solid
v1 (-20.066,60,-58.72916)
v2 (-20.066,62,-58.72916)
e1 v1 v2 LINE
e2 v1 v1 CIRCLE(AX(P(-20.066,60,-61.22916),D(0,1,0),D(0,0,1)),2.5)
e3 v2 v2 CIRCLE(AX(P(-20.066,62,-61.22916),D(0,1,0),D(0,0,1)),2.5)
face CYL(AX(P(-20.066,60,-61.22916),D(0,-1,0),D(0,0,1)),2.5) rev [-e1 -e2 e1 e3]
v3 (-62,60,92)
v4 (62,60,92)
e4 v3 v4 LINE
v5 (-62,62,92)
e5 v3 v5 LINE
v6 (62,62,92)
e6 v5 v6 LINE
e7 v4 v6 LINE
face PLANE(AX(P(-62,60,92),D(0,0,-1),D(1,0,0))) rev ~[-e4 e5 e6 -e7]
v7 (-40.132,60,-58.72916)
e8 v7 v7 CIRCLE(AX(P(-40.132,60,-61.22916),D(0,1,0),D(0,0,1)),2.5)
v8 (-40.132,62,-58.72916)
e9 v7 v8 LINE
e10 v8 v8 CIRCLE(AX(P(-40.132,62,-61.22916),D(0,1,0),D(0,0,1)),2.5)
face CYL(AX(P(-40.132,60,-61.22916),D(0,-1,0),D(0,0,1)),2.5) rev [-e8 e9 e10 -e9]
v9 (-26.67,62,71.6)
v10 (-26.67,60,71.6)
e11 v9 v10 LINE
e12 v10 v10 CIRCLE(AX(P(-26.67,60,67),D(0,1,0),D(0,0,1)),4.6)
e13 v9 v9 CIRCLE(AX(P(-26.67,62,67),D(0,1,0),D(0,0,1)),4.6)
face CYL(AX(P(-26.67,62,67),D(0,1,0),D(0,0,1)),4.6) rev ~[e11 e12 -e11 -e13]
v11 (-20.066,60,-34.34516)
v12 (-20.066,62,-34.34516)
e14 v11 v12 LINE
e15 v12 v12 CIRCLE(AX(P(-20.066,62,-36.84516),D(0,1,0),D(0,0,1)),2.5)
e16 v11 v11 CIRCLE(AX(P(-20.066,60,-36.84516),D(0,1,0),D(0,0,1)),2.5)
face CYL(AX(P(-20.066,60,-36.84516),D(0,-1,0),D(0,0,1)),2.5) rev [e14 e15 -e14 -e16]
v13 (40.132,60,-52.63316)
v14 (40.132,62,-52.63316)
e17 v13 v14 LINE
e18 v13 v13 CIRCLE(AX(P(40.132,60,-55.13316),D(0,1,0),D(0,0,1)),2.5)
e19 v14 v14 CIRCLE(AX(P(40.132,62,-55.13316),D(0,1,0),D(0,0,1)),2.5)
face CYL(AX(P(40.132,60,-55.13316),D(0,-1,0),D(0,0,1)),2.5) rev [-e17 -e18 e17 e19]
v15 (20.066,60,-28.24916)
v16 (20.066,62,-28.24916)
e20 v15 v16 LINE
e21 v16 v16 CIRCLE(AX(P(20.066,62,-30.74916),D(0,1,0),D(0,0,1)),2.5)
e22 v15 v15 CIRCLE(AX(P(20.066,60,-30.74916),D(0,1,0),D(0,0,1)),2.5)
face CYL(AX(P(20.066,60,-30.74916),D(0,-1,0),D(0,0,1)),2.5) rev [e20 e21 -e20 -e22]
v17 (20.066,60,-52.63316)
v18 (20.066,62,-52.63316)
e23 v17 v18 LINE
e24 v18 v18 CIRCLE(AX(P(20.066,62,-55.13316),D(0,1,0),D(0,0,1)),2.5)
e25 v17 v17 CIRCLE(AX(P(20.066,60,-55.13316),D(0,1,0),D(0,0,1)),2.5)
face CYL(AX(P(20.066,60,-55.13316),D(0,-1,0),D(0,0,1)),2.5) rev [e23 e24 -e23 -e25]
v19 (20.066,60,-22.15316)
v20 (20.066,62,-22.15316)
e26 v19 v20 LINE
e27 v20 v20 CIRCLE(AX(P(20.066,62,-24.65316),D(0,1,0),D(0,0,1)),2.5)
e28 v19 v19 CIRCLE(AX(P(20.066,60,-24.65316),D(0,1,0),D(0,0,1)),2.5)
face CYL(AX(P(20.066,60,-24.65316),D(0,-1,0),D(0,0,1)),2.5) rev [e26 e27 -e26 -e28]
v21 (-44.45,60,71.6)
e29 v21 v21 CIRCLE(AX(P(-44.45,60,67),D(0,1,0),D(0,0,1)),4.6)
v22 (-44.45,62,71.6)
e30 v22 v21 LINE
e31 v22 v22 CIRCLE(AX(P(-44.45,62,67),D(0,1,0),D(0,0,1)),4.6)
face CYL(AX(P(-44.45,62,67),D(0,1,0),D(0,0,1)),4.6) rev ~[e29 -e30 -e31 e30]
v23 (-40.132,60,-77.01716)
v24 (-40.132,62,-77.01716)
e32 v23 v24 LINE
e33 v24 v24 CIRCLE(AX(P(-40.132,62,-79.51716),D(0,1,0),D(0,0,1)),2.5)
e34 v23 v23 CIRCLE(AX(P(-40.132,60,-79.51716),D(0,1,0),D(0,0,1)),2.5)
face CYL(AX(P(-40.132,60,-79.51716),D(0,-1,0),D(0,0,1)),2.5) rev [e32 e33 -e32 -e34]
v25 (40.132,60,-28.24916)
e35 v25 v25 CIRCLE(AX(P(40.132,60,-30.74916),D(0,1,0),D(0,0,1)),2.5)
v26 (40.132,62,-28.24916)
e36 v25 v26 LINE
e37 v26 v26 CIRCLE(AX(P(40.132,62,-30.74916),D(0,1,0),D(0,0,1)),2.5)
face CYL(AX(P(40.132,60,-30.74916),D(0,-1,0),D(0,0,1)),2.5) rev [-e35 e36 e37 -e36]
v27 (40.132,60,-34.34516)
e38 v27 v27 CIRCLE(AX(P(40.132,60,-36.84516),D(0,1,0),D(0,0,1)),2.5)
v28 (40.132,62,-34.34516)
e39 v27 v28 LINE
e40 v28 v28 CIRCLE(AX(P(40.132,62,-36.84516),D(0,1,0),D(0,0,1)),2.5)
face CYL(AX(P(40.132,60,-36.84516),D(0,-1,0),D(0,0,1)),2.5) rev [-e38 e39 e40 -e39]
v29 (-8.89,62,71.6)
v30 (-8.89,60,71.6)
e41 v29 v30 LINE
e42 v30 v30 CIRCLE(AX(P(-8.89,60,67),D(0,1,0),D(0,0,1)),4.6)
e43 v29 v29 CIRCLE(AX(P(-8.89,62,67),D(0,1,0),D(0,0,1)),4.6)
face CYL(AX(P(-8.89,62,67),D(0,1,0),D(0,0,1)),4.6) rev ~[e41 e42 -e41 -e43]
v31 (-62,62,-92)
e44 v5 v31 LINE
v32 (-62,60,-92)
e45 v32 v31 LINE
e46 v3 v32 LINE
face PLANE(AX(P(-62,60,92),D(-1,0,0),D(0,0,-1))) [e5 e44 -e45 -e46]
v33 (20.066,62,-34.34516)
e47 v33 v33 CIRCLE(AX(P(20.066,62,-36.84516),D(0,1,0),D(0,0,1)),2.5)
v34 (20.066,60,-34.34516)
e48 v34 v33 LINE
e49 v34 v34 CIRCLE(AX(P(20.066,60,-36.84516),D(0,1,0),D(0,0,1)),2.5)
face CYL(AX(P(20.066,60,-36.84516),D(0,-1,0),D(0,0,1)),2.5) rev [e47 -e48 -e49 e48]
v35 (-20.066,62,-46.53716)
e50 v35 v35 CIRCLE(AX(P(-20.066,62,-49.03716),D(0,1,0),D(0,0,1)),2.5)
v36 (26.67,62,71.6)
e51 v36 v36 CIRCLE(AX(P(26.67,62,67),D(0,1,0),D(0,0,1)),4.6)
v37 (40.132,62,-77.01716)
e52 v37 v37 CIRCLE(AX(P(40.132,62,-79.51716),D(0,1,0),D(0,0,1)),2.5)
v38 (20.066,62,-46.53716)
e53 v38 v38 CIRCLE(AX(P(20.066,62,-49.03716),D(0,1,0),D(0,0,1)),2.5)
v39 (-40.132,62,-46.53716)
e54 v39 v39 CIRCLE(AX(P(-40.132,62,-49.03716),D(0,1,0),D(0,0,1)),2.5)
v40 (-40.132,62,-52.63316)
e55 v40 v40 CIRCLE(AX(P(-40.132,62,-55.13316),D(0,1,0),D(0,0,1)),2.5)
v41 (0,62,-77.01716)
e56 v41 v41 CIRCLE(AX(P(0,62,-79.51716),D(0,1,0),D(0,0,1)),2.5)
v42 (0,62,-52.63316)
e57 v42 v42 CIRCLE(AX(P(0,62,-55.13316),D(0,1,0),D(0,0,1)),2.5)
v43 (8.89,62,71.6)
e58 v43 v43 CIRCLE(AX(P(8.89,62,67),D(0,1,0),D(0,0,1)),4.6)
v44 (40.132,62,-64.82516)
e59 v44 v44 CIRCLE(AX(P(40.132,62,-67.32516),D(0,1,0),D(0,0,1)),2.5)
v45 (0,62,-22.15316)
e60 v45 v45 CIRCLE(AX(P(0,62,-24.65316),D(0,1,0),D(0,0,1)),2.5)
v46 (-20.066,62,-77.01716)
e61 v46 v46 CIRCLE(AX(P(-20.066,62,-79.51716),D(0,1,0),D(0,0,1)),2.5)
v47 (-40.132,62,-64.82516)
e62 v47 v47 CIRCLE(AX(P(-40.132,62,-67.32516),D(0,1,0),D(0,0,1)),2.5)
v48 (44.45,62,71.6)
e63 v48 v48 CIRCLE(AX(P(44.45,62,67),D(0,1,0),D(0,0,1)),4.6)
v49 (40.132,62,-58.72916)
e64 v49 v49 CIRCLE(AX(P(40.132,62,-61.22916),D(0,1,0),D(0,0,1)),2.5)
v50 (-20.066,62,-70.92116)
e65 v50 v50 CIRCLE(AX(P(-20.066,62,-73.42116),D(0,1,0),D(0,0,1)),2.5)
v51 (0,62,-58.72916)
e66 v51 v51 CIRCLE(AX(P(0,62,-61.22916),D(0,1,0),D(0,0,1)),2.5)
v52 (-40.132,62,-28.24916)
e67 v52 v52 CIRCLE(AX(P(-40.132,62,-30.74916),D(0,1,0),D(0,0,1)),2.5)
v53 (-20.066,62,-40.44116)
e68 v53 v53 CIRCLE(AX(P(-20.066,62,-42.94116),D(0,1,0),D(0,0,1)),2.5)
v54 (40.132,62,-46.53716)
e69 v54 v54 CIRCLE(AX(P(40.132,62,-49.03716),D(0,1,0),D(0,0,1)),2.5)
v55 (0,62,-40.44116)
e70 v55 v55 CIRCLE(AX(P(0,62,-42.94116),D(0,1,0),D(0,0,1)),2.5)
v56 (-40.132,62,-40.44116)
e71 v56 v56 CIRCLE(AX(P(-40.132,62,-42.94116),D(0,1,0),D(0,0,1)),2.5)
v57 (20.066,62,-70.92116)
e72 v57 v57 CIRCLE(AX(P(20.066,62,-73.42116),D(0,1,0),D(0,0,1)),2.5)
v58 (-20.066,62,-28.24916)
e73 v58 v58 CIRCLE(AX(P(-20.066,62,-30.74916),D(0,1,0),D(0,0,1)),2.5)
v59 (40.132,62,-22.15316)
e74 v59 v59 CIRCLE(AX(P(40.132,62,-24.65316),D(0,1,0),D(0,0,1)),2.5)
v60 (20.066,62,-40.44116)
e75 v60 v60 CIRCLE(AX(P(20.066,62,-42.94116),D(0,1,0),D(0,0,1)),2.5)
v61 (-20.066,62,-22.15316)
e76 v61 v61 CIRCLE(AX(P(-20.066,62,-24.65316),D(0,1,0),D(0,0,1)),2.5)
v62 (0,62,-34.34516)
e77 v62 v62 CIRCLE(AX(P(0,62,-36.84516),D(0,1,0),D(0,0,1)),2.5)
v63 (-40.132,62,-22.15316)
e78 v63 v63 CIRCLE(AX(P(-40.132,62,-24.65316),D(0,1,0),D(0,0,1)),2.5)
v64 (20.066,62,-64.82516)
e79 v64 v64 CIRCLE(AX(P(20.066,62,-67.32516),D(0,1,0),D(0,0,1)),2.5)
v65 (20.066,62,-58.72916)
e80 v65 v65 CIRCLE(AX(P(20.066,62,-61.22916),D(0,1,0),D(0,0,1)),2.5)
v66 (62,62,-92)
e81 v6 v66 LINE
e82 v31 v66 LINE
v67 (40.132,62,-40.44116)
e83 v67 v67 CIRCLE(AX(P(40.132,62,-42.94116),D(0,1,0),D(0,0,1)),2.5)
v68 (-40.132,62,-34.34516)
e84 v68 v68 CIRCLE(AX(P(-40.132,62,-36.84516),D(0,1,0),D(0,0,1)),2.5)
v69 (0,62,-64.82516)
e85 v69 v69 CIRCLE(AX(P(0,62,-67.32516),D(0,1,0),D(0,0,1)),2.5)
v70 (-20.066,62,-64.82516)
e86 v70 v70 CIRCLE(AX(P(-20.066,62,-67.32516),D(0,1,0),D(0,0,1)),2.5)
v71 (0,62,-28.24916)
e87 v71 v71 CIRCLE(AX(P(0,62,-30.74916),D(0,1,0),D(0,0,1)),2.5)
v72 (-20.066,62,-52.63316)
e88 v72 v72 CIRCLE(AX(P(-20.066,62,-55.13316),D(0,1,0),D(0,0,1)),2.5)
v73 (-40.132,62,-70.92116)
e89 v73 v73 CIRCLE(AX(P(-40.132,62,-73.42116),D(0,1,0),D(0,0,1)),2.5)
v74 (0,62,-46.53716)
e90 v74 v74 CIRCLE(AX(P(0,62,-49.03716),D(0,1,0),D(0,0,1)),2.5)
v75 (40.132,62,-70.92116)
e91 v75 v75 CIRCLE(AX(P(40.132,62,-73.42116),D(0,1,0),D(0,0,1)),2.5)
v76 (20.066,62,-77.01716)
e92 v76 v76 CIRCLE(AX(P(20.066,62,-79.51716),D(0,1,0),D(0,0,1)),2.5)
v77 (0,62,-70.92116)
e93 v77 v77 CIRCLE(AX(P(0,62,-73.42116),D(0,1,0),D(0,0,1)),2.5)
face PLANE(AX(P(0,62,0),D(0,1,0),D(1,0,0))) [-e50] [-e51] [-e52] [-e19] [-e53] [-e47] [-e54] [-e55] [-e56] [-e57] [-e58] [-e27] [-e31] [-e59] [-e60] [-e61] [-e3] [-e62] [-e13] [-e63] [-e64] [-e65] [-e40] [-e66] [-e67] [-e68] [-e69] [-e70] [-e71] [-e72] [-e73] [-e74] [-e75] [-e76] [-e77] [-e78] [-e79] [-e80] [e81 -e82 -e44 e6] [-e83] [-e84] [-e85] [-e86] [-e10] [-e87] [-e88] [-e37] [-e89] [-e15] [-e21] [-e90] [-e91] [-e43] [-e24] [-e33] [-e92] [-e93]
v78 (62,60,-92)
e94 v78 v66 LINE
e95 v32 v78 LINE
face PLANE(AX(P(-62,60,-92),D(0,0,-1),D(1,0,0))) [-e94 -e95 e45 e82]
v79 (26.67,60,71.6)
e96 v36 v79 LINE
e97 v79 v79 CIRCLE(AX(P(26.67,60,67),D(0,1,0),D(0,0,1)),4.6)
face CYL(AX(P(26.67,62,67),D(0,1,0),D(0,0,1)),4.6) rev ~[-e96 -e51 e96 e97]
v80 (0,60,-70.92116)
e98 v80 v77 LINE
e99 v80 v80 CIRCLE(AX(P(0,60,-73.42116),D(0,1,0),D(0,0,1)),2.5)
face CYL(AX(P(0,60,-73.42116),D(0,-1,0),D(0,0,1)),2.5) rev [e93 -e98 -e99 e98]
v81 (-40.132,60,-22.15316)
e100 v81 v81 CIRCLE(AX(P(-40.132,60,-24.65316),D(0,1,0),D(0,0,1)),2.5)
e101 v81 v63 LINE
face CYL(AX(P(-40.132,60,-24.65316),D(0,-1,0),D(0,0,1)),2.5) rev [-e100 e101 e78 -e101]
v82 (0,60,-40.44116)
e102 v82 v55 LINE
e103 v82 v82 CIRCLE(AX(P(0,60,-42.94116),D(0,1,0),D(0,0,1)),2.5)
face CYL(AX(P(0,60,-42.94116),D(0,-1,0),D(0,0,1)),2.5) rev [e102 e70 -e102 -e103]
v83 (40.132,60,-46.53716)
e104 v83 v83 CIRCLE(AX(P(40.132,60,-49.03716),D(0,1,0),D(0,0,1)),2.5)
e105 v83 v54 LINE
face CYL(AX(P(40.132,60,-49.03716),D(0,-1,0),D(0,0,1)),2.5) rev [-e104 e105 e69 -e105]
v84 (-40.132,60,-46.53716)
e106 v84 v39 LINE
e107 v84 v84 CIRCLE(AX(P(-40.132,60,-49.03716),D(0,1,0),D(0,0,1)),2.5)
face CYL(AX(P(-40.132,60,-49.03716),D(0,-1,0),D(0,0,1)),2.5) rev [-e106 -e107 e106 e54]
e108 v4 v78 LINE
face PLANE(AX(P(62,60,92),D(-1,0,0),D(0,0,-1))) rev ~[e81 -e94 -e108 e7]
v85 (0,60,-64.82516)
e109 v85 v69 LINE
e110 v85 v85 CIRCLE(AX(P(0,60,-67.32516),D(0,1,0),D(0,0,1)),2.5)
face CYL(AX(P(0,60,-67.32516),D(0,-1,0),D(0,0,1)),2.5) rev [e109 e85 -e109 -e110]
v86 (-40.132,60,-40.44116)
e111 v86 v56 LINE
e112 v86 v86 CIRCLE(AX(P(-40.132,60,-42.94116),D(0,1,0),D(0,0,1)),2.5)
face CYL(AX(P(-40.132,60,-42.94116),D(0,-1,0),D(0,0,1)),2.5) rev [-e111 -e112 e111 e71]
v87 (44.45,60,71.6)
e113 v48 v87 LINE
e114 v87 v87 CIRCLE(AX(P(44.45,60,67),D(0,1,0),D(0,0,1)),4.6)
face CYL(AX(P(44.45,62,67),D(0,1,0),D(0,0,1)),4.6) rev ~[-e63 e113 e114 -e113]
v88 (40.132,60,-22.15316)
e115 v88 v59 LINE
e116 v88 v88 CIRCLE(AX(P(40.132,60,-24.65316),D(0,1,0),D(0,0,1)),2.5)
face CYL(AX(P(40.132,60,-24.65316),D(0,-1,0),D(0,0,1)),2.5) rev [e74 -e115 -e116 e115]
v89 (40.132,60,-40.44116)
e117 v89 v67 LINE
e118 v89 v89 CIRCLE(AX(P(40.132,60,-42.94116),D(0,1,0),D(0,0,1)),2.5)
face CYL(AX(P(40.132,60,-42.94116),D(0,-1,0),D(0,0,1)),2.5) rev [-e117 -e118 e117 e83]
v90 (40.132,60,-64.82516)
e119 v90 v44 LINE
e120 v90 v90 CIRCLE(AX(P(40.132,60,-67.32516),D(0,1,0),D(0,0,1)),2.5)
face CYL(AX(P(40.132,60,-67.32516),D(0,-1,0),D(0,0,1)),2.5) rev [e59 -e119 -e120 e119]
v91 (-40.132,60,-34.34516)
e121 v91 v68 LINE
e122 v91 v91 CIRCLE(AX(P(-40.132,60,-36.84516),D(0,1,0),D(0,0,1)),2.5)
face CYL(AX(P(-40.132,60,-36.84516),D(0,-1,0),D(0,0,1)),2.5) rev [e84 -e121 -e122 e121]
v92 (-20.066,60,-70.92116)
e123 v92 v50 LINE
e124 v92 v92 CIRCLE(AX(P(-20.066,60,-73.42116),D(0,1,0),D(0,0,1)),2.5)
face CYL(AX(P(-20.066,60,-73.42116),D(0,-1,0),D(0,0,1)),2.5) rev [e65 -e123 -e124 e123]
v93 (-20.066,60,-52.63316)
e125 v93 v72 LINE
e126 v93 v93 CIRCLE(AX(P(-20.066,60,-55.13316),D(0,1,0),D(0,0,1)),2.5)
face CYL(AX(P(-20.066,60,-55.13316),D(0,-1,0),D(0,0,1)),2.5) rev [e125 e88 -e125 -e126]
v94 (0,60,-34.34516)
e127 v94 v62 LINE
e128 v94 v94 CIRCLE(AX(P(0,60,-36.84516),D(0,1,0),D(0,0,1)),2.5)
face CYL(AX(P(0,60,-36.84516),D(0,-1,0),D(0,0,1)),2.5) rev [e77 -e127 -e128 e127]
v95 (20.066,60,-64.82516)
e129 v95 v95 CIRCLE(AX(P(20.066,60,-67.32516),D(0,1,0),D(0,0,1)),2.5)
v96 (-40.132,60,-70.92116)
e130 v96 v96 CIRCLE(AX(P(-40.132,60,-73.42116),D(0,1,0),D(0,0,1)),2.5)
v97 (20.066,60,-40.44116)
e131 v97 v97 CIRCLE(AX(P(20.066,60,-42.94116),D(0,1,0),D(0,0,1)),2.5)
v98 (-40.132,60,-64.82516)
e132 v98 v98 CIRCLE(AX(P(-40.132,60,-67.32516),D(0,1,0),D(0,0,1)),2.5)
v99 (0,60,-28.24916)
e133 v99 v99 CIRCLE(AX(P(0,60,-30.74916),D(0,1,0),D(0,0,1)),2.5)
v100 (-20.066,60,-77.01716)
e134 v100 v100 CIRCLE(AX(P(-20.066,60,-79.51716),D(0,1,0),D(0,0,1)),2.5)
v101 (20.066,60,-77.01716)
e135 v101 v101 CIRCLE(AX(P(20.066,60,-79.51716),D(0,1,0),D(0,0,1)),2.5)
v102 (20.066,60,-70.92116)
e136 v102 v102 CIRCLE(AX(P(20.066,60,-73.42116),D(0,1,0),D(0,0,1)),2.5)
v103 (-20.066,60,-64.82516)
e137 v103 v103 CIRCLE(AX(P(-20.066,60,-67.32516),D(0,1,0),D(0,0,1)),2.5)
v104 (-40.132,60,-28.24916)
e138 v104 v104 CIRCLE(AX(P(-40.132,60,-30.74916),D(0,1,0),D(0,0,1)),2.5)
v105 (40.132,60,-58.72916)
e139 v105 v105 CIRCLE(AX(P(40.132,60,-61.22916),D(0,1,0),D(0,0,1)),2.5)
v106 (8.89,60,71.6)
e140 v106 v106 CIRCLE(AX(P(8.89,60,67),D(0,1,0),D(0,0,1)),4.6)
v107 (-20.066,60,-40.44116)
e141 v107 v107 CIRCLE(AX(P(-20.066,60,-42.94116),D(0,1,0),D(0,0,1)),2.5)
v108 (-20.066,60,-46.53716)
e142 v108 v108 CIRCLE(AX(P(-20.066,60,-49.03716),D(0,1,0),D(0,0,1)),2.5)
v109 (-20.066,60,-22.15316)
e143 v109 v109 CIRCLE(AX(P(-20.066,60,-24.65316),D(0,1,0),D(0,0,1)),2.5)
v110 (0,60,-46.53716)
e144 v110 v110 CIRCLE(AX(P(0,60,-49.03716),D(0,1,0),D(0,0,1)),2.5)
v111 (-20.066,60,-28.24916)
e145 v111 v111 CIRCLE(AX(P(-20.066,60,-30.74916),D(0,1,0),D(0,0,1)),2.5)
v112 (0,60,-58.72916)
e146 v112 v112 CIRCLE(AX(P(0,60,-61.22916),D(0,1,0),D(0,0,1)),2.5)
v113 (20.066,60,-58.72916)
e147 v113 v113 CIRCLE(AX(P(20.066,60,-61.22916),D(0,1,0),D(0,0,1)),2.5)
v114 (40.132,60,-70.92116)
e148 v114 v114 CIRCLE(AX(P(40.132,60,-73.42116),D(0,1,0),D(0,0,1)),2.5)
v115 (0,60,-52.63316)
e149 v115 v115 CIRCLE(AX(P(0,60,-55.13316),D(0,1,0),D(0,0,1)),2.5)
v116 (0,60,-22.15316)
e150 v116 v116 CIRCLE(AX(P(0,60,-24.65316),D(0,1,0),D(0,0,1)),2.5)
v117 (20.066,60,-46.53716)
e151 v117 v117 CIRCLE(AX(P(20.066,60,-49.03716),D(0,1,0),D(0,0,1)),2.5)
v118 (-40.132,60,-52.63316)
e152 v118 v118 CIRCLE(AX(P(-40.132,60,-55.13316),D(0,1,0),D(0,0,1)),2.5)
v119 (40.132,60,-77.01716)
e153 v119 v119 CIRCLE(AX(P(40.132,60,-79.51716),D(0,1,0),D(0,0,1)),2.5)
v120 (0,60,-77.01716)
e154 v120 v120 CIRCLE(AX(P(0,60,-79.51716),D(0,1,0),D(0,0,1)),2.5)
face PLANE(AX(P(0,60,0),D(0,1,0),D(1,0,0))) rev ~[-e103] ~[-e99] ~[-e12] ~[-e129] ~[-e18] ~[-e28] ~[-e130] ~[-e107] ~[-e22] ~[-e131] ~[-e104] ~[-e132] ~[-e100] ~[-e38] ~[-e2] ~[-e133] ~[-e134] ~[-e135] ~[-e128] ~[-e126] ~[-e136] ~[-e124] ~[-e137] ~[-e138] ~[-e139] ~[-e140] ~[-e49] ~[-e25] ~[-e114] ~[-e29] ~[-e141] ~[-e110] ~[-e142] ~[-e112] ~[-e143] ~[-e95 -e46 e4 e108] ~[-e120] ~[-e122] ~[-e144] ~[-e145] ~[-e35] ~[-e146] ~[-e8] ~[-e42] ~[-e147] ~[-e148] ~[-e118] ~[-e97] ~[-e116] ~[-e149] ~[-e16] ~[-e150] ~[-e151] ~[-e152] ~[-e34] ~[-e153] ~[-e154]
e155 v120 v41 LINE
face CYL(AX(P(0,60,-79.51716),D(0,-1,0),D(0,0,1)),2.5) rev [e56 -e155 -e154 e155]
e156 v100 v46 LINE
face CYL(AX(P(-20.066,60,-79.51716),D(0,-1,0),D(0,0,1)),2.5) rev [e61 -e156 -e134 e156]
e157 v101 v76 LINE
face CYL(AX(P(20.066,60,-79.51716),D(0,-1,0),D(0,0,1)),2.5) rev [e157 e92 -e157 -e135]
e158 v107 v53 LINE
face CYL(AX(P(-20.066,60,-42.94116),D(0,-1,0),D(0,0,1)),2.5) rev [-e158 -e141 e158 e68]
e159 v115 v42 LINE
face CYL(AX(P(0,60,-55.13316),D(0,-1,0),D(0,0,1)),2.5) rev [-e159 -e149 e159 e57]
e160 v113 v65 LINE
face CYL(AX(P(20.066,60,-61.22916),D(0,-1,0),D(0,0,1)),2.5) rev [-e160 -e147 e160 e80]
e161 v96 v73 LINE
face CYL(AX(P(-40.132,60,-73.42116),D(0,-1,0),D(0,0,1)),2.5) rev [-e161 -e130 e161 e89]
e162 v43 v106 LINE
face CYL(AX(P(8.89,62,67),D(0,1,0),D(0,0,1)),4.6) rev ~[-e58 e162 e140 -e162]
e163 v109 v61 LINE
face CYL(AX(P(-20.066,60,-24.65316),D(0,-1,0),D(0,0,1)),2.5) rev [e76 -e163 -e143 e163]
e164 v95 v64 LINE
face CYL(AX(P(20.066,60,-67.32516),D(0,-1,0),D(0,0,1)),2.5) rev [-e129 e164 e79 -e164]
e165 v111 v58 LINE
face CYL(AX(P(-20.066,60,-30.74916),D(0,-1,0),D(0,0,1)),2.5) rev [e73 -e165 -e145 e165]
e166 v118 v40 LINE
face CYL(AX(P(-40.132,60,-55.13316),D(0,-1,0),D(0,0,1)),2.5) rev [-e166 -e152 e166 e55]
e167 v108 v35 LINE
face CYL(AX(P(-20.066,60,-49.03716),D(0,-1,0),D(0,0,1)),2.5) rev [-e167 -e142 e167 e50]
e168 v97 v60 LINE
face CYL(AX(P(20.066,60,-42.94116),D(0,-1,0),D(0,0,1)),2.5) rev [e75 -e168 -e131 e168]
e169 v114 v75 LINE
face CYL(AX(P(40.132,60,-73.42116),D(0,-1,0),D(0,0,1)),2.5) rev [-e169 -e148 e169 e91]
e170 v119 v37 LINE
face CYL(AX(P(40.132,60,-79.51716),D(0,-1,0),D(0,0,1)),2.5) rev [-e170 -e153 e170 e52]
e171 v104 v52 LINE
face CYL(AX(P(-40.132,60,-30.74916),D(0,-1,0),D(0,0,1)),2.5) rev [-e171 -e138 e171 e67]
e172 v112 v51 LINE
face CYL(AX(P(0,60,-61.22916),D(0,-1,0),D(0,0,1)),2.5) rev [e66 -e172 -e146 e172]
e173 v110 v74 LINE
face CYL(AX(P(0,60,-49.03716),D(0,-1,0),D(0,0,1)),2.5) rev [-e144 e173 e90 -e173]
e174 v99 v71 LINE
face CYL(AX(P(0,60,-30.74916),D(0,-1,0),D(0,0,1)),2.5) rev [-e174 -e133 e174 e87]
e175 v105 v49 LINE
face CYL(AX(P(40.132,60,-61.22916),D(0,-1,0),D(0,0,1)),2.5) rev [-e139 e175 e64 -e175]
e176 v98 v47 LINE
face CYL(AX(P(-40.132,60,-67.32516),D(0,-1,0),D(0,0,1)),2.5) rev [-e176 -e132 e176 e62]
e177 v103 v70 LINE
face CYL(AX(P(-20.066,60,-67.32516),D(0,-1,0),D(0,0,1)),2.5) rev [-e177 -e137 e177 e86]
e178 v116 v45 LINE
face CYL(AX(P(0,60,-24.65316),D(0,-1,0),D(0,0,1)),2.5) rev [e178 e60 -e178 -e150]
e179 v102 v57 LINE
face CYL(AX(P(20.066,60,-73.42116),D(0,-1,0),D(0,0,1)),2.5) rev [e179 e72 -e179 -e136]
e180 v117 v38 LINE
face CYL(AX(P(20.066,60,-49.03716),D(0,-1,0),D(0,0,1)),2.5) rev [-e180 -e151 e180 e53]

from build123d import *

# Parameters (mm, degrees)
SKETCH1_W           = 124
SKETCH1_H           = 184
SKETCH1_R           = 2.5
BOSS_EXTRUDE1_DEPTH = 2
CUT_EXTRUDE2_REACH  = 112.959
SKETCH5_R           = 4.6


with BuildPart() as part:
    # Sketch1 → Boss-Extrude1 (new body)
    with BuildSketch(Plane(origin=(0, 60, 0), x_dir=(1, 0, 0), z_dir=(0, 1, 0))):
        Rectangle(SKETCH1_W, SKETCH1_H)
        with Locations(Location((-40.132, 79.51715957, 0), (0, 0, 270))):
            Circle(SKETCH1_R, mode=Mode.SUBTRACT)
        with Locations(Location((-20.066, 79.51715957, 0), (0, 0, 270))):
            Circle(SKETCH1_R, mode=Mode.SUBTRACT)
        with Locations(Location((0, 79.51715957, 0), (0, 0, 270))):
            Circle(SKETCH1_R, mode=Mode.SUBTRACT)
        with Locations(Location((20.066, 79.51715957, 0), (0, 0, 270))):
            Circle(SKETCH1_R, mode=Mode.SUBTRACT)
        with Locations(Location((40.132, 79.51715957, 0), (0, 0, 270))):
            Circle(SKETCH1_R, mode=Mode.SUBTRACT)
        with Locations(Location((-20.066, 73.42115957, 0), (0, 0, 270))):
            Circle(SKETCH1_R, mode=Mode.SUBTRACT)
        with Locations(Location((0, 73.42115957, 0), (0, 0, 270))):
            Circle(SKETCH1_R, mode=Mode.SUBTRACT)
        with Locations(Location((20.066, 73.42115957, 0), (0, 0, 270))):
            Circle(SKETCH1_R, mode=Mode.SUBTRACT)
        with Locations(Location((40.132, 73.42115957, 0), (0, 0, 270))):
            Circle(SKETCH1_R, mode=Mode.SUBTRACT)
        with Locations(Location((-20.066, 67.32515957, 0), (0, 0, 270))):
            Circle(SKETCH1_R, mode=Mode.SUBTRACT)
        with Locations(Location((0, 67.32515957, 0), (0, 0, 270))):
            Circle(SKETCH1_R, mode=Mode.SUBTRACT)
        with Locations(Location((20.066, 67.32515957, 0), (0, 0, 270))):
            Circle(SKETCH1_R, mode=Mode.SUBTRACT)
        with Locations(Location((40.132, 67.32515957, 0), (0, 0, 270))):
            Circle(SKETCH1_R, mode=Mode.SUBTRACT)
        with Locations(Location((-20.066, 61.22915957, 0), (0, 0, 270))):
            Circle(SKETCH1_R, mode=Mode.SUBTRACT)
        with Locations(Location((0, 61.22915957, 0), (0, 0, 270))):
            Circle(SKETCH1_R, mode=Mode.SUBTRACT)
        with Locations(Location((20.066, 61.22915957, 0), (0, 0, 270))):
            Circle(SKETCH1_R, mode=Mode.SUBTRACT)
        with Locations(Location((40.132, 61.22915957, 0), (0, 0, 270))):
            Circle(SKETCH1_R, mode=Mode.SUBTRACT)
        with Locations(Location((-20.066, 55.13315957, 0), (0, 0, 270))):
            Circle(SKETCH1_R, mode=Mode.SUBTRACT)
        with Locations(Location((0, 55.13315957, 0), (0, 0, 270))):
            Circle(SKETCH1_R, mode=Mode.SUBTRACT)
        with Locations(Location((20.066, 55.13315957, 0), (0, 0, 270))):
            Circle(SKETCH1_R, mode=Mode.SUBTRACT)
        with Locations(Location((40.132, 55.13315957, 0), (0, 0, 270))):
            Circle(SKETCH1_R, mode=Mode.SUBTRACT)
        with Locations(Location((-20.066, 49.03715957, 0), (0, 0, 270))):
            Circle(SKETCH1_R, mode=Mode.SUBTRACT)
        with Locations(Location((0, 49.03715957, 0), (0, 0, 270))):
            Circle(SKETCH1_R, mode=Mode.SUBTRACT)
        with Locations(Location((20.066, 49.03715957, 0), (0, 0, 270))):
            Circle(SKETCH1_R, mode=Mode.SUBTRACT)
        with Locations(Location((40.132, 49.03715957, 0), (0, 0, 270))):
            Circle(SKETCH1_R, mode=Mode.SUBTRACT)
        with Locations(Location((-20.066, 42.94115957, 0), (0, 0, 270))):
            Circle(SKETCH1_R, mode=Mode.SUBTRACT)
        with Locations(Location((0, 42.94115957, 0), (0, 0, 270))):
            Circle(SKETCH1_R, mode=Mode.SUBTRACT)
        with Locations(Location((20.066, 42.94115957, 0), (0, 0, 270))):
            Circle(SKETCH1_R, mode=Mode.SUBTRACT)
        with Locations(Location((40.132, 42.94115957, 0), (0, 0, 270))):
            Circle(SKETCH1_R, mode=Mode.SUBTRACT)
        with Locations(Location((-20.066, 36.84515957, 0), (0, 0, 270))):
            Circle(SKETCH1_R, mode=Mode.SUBTRACT)
        with Locations(Location((0, 36.84515957, 0), (0, 0, 270))):
            Circle(SKETCH1_R, mode=Mode.SUBTRACT)
        with Locations(Location((20.066, 36.84515957, 0), (0, 0, 270))):
            Circle(SKETCH1_R, mode=Mode.SUBTRACT)
        with Locations(Location((40.132, 36.84515957, 0), (0, 0, 270))):
            Circle(SKETCH1_R, mode=Mode.SUBTRACT)
        with Locations(Location((-20.066, 30.74915957, 0), (0, 0, 270))):
            Circle(SKETCH1_R, mode=Mode.SUBTRACT)
        with Locations(Location((0, 30.74915957, 0), (0, 0, 270))):
            Circle(SKETCH1_R, mode=Mode.SUBTRACT)
        with Locations(Location((20.066, 30.74915957, 0), (0, 0, 270))):
            Circle(SKETCH1_R, mode=Mode.SUBTRACT)
        with Locations(Location((40.132, 30.74915957, 0), (0, 0, 270))):
            Circle(SKETCH1_R, mode=Mode.SUBTRACT)
        with Locations(Location((-20.066, 24.65315957, 0), (0, 0, 270))):
            Circle(SKETCH1_R, mode=Mode.SUBTRACT)
        with Locations(Location((0, 24.65315957, 0), (0, 0, 270))):
            Circle(SKETCH1_R, mode=Mode.SUBTRACT)
        with Locations(Location((20.066, 24.65315957, 0), (0, 0, 270))):
            Circle(SKETCH1_R, mode=Mode.SUBTRACT)
        with Locations(Location((40.132, 24.65315957, 0), (0, 0, 270))):
            Circle(SKETCH1_R, mode=Mode.SUBTRACT)
        with Locations(Location((-40.132, 73.42115957, 0), (0, 0, 270))):
            Circle(SKETCH1_R, mode=Mode.SUBTRACT)
        with Locations(Location((-40.132, 67.32515957, 0), (0, 0, 270))):
            Circle(SKETCH1_R, mode=Mode.SUBTRACT)
        with Locations(Location((-40.132, 61.22915957, 0), (0, 0, 270))):
            Circle(SKETCH1_R, mode=Mode.SUBTRACT)
        with Locations(Location((-40.132, 55.13315957, 0), (0, 0, 270))):
            Circle(SKETCH1_R, mode=Mode.SUBTRACT)
        with Locations(Location((-40.132, 49.03715957, 0), (0, 0, 270))):
            Circle(SKETCH1_R, mode=Mode.SUBTRACT)
        with Locations(Location((-40.132, 42.94115957, 0), (0, 0, 270))):
            Circle(SKETCH1_R, mode=Mode.SUBTRACT)
        with Locations(Location((-40.132, 36.84515957, 0), (0, 0, 270))):
            Circle(SKETCH1_R, mode=Mode.SUBTRACT)
        with Locations(Location((-40.132, 30.74915957, 0), (0, 0, 270))):
            Circle(SKETCH1_R, mode=Mode.SUBTRACT)
        with Locations(Location((-40.132, 24.65315957, 0), (0, 0, 270))):
            Circle(SKETCH1_R, mode=Mode.SUBTRACT)
    extrude(amount=BOSS_EXTRUDE1_DEPTH)

    # Sketch5 → Cut-Extrude2 (cut, up to next)
    with BuildSketch(Plane(origin=(0, 62, 0), x_dir=(1, 0, 0), z_dir=(0, 1, 0)), mode=Mode.PRIVATE) as cut_extrude2_sk1:
        with Locations(Location((-44.45, -67, 0), (0, 0, 270))):
            Circle(SKETCH5_R)
    cut_extrude2_tool1 = extrude(cut_extrude2_sk1.sketch, amount=-CUT_EXTRUDE2_REACH, mode=Mode.PRIVATE) & part.part
    # Sketch5 → Cut-Extrude2 (cut, up to next)
    with BuildSketch(Plane(origin=(0, 62, 0), x_dir=(1, 0, 0), z_dir=(0, 1, 0)), mode=Mode.PRIVATE) as cut_extrude2_sk2:
        with Locations(Location((-26.67, -67, 0), (0, 0, 270))):
            Circle(SKETCH5_R)
    cut_extrude2_tool2 = extrude(cut_extrude2_sk2.sketch, amount=-CUT_EXTRUDE2_REACH, mode=Mode.PRIVATE) & part.part
    # Sketch5 → Cut-Extrude2 (cut, up to next)
    with BuildSketch(Plane(origin=(0, 62, 0), x_dir=(1, 0, 0), z_dir=(0, 1, 0)), mode=Mode.PRIVATE) as cut_extrude2_sk3:
        with Locations(Location((-8.89, -67, 0), (0, 0, 270))):
            Circle(SKETCH5_R)
    cut_extrude2_tool3 = extrude(cut_extrude2_sk3.sketch, amount=-CUT_EXTRUDE2_REACH, mode=Mode.PRIVATE) & part.part
    # Sketch5 → Cut-Extrude2 (cut, up to next)
    with BuildSketch(Plane(origin=(0, 62, 0), x_dir=(1, 0, 0), z_dir=(0, 1, 0)), mode=Mode.PRIVATE) as cut_extrude2_sk4:
        with Locations(Location((8.89, -67, 0), (0, 0, 270))):
            Circle(SKETCH5_R)
    cut_extrude2_tool4 = extrude(cut_extrude2_sk4.sketch, amount=-CUT_EXTRUDE2_REACH, mode=Mode.PRIVATE) & part.part
    # Sketch5 → Cut-Extrude2 (cut, up to next)
    with BuildSketch(Plane(origin=(0, 62, 0), x_dir=(1, 0, 0), z_dir=(0, 1, 0)), mode=Mode.PRIVATE) as cut_extrude2_sk5:
        with Locations(Location((26.67, -67, 0), (0, 0, 270))):
            Circle(SKETCH5_R)
    cut_extrude2_tool5 = extrude(cut_extrude2_sk5.sketch, amount=-CUT_EXTRUDE2_REACH, mode=Mode.PRIVATE) & part.part
    # Sketch5 → Cut-Extrude2 (cut, up to next)
    with BuildSketch(Plane(origin=(0, 62, 0), x_dir=(1, 0, 0), z_dir=(0, 1, 0)), mode=Mode.PRIVATE) as cut_extrude2_sk6:
        with Locations(Location((44.45, -67, 0), (0, 0, 270))):
            Circle(SKETCH5_R)
    cut_extrude2_tool6 = extrude(cut_extrude2_sk6.sketch, amount=-CUT_EXTRUDE2_REACH, mode=Mode.PRIVATE) & part.part
    add(cut_extrude2_tool1.solids().sort_by_distance((-44.45, 62, 67))[0], mode=Mode.SUBTRACT)
    add(cut_extrude2_tool2.solids().sort_by_distance((-26.67, 62, 67))[0], mode=Mode.SUBTRACT)
    add(cut_extrude2_tool3.solids().sort_by_distance((-8.89, 62, 67))[0], mode=Mode.SUBTRACT)
    add(cut_extrude2_tool4.solids().sort_by_distance((8.89, 62, 67))[0], mode=Mode.SUBTRACT)
    add(cut_extrude2_tool5.solids().sort_by_distance((26.67, 62, 67))[0], mode=Mode.SUBTRACT)
    add(cut_extrude2_tool6.solids().sort_by_distance((44.45, 62, 67))[0], mode=Mode.SUBTRACT)


solid = part.part
